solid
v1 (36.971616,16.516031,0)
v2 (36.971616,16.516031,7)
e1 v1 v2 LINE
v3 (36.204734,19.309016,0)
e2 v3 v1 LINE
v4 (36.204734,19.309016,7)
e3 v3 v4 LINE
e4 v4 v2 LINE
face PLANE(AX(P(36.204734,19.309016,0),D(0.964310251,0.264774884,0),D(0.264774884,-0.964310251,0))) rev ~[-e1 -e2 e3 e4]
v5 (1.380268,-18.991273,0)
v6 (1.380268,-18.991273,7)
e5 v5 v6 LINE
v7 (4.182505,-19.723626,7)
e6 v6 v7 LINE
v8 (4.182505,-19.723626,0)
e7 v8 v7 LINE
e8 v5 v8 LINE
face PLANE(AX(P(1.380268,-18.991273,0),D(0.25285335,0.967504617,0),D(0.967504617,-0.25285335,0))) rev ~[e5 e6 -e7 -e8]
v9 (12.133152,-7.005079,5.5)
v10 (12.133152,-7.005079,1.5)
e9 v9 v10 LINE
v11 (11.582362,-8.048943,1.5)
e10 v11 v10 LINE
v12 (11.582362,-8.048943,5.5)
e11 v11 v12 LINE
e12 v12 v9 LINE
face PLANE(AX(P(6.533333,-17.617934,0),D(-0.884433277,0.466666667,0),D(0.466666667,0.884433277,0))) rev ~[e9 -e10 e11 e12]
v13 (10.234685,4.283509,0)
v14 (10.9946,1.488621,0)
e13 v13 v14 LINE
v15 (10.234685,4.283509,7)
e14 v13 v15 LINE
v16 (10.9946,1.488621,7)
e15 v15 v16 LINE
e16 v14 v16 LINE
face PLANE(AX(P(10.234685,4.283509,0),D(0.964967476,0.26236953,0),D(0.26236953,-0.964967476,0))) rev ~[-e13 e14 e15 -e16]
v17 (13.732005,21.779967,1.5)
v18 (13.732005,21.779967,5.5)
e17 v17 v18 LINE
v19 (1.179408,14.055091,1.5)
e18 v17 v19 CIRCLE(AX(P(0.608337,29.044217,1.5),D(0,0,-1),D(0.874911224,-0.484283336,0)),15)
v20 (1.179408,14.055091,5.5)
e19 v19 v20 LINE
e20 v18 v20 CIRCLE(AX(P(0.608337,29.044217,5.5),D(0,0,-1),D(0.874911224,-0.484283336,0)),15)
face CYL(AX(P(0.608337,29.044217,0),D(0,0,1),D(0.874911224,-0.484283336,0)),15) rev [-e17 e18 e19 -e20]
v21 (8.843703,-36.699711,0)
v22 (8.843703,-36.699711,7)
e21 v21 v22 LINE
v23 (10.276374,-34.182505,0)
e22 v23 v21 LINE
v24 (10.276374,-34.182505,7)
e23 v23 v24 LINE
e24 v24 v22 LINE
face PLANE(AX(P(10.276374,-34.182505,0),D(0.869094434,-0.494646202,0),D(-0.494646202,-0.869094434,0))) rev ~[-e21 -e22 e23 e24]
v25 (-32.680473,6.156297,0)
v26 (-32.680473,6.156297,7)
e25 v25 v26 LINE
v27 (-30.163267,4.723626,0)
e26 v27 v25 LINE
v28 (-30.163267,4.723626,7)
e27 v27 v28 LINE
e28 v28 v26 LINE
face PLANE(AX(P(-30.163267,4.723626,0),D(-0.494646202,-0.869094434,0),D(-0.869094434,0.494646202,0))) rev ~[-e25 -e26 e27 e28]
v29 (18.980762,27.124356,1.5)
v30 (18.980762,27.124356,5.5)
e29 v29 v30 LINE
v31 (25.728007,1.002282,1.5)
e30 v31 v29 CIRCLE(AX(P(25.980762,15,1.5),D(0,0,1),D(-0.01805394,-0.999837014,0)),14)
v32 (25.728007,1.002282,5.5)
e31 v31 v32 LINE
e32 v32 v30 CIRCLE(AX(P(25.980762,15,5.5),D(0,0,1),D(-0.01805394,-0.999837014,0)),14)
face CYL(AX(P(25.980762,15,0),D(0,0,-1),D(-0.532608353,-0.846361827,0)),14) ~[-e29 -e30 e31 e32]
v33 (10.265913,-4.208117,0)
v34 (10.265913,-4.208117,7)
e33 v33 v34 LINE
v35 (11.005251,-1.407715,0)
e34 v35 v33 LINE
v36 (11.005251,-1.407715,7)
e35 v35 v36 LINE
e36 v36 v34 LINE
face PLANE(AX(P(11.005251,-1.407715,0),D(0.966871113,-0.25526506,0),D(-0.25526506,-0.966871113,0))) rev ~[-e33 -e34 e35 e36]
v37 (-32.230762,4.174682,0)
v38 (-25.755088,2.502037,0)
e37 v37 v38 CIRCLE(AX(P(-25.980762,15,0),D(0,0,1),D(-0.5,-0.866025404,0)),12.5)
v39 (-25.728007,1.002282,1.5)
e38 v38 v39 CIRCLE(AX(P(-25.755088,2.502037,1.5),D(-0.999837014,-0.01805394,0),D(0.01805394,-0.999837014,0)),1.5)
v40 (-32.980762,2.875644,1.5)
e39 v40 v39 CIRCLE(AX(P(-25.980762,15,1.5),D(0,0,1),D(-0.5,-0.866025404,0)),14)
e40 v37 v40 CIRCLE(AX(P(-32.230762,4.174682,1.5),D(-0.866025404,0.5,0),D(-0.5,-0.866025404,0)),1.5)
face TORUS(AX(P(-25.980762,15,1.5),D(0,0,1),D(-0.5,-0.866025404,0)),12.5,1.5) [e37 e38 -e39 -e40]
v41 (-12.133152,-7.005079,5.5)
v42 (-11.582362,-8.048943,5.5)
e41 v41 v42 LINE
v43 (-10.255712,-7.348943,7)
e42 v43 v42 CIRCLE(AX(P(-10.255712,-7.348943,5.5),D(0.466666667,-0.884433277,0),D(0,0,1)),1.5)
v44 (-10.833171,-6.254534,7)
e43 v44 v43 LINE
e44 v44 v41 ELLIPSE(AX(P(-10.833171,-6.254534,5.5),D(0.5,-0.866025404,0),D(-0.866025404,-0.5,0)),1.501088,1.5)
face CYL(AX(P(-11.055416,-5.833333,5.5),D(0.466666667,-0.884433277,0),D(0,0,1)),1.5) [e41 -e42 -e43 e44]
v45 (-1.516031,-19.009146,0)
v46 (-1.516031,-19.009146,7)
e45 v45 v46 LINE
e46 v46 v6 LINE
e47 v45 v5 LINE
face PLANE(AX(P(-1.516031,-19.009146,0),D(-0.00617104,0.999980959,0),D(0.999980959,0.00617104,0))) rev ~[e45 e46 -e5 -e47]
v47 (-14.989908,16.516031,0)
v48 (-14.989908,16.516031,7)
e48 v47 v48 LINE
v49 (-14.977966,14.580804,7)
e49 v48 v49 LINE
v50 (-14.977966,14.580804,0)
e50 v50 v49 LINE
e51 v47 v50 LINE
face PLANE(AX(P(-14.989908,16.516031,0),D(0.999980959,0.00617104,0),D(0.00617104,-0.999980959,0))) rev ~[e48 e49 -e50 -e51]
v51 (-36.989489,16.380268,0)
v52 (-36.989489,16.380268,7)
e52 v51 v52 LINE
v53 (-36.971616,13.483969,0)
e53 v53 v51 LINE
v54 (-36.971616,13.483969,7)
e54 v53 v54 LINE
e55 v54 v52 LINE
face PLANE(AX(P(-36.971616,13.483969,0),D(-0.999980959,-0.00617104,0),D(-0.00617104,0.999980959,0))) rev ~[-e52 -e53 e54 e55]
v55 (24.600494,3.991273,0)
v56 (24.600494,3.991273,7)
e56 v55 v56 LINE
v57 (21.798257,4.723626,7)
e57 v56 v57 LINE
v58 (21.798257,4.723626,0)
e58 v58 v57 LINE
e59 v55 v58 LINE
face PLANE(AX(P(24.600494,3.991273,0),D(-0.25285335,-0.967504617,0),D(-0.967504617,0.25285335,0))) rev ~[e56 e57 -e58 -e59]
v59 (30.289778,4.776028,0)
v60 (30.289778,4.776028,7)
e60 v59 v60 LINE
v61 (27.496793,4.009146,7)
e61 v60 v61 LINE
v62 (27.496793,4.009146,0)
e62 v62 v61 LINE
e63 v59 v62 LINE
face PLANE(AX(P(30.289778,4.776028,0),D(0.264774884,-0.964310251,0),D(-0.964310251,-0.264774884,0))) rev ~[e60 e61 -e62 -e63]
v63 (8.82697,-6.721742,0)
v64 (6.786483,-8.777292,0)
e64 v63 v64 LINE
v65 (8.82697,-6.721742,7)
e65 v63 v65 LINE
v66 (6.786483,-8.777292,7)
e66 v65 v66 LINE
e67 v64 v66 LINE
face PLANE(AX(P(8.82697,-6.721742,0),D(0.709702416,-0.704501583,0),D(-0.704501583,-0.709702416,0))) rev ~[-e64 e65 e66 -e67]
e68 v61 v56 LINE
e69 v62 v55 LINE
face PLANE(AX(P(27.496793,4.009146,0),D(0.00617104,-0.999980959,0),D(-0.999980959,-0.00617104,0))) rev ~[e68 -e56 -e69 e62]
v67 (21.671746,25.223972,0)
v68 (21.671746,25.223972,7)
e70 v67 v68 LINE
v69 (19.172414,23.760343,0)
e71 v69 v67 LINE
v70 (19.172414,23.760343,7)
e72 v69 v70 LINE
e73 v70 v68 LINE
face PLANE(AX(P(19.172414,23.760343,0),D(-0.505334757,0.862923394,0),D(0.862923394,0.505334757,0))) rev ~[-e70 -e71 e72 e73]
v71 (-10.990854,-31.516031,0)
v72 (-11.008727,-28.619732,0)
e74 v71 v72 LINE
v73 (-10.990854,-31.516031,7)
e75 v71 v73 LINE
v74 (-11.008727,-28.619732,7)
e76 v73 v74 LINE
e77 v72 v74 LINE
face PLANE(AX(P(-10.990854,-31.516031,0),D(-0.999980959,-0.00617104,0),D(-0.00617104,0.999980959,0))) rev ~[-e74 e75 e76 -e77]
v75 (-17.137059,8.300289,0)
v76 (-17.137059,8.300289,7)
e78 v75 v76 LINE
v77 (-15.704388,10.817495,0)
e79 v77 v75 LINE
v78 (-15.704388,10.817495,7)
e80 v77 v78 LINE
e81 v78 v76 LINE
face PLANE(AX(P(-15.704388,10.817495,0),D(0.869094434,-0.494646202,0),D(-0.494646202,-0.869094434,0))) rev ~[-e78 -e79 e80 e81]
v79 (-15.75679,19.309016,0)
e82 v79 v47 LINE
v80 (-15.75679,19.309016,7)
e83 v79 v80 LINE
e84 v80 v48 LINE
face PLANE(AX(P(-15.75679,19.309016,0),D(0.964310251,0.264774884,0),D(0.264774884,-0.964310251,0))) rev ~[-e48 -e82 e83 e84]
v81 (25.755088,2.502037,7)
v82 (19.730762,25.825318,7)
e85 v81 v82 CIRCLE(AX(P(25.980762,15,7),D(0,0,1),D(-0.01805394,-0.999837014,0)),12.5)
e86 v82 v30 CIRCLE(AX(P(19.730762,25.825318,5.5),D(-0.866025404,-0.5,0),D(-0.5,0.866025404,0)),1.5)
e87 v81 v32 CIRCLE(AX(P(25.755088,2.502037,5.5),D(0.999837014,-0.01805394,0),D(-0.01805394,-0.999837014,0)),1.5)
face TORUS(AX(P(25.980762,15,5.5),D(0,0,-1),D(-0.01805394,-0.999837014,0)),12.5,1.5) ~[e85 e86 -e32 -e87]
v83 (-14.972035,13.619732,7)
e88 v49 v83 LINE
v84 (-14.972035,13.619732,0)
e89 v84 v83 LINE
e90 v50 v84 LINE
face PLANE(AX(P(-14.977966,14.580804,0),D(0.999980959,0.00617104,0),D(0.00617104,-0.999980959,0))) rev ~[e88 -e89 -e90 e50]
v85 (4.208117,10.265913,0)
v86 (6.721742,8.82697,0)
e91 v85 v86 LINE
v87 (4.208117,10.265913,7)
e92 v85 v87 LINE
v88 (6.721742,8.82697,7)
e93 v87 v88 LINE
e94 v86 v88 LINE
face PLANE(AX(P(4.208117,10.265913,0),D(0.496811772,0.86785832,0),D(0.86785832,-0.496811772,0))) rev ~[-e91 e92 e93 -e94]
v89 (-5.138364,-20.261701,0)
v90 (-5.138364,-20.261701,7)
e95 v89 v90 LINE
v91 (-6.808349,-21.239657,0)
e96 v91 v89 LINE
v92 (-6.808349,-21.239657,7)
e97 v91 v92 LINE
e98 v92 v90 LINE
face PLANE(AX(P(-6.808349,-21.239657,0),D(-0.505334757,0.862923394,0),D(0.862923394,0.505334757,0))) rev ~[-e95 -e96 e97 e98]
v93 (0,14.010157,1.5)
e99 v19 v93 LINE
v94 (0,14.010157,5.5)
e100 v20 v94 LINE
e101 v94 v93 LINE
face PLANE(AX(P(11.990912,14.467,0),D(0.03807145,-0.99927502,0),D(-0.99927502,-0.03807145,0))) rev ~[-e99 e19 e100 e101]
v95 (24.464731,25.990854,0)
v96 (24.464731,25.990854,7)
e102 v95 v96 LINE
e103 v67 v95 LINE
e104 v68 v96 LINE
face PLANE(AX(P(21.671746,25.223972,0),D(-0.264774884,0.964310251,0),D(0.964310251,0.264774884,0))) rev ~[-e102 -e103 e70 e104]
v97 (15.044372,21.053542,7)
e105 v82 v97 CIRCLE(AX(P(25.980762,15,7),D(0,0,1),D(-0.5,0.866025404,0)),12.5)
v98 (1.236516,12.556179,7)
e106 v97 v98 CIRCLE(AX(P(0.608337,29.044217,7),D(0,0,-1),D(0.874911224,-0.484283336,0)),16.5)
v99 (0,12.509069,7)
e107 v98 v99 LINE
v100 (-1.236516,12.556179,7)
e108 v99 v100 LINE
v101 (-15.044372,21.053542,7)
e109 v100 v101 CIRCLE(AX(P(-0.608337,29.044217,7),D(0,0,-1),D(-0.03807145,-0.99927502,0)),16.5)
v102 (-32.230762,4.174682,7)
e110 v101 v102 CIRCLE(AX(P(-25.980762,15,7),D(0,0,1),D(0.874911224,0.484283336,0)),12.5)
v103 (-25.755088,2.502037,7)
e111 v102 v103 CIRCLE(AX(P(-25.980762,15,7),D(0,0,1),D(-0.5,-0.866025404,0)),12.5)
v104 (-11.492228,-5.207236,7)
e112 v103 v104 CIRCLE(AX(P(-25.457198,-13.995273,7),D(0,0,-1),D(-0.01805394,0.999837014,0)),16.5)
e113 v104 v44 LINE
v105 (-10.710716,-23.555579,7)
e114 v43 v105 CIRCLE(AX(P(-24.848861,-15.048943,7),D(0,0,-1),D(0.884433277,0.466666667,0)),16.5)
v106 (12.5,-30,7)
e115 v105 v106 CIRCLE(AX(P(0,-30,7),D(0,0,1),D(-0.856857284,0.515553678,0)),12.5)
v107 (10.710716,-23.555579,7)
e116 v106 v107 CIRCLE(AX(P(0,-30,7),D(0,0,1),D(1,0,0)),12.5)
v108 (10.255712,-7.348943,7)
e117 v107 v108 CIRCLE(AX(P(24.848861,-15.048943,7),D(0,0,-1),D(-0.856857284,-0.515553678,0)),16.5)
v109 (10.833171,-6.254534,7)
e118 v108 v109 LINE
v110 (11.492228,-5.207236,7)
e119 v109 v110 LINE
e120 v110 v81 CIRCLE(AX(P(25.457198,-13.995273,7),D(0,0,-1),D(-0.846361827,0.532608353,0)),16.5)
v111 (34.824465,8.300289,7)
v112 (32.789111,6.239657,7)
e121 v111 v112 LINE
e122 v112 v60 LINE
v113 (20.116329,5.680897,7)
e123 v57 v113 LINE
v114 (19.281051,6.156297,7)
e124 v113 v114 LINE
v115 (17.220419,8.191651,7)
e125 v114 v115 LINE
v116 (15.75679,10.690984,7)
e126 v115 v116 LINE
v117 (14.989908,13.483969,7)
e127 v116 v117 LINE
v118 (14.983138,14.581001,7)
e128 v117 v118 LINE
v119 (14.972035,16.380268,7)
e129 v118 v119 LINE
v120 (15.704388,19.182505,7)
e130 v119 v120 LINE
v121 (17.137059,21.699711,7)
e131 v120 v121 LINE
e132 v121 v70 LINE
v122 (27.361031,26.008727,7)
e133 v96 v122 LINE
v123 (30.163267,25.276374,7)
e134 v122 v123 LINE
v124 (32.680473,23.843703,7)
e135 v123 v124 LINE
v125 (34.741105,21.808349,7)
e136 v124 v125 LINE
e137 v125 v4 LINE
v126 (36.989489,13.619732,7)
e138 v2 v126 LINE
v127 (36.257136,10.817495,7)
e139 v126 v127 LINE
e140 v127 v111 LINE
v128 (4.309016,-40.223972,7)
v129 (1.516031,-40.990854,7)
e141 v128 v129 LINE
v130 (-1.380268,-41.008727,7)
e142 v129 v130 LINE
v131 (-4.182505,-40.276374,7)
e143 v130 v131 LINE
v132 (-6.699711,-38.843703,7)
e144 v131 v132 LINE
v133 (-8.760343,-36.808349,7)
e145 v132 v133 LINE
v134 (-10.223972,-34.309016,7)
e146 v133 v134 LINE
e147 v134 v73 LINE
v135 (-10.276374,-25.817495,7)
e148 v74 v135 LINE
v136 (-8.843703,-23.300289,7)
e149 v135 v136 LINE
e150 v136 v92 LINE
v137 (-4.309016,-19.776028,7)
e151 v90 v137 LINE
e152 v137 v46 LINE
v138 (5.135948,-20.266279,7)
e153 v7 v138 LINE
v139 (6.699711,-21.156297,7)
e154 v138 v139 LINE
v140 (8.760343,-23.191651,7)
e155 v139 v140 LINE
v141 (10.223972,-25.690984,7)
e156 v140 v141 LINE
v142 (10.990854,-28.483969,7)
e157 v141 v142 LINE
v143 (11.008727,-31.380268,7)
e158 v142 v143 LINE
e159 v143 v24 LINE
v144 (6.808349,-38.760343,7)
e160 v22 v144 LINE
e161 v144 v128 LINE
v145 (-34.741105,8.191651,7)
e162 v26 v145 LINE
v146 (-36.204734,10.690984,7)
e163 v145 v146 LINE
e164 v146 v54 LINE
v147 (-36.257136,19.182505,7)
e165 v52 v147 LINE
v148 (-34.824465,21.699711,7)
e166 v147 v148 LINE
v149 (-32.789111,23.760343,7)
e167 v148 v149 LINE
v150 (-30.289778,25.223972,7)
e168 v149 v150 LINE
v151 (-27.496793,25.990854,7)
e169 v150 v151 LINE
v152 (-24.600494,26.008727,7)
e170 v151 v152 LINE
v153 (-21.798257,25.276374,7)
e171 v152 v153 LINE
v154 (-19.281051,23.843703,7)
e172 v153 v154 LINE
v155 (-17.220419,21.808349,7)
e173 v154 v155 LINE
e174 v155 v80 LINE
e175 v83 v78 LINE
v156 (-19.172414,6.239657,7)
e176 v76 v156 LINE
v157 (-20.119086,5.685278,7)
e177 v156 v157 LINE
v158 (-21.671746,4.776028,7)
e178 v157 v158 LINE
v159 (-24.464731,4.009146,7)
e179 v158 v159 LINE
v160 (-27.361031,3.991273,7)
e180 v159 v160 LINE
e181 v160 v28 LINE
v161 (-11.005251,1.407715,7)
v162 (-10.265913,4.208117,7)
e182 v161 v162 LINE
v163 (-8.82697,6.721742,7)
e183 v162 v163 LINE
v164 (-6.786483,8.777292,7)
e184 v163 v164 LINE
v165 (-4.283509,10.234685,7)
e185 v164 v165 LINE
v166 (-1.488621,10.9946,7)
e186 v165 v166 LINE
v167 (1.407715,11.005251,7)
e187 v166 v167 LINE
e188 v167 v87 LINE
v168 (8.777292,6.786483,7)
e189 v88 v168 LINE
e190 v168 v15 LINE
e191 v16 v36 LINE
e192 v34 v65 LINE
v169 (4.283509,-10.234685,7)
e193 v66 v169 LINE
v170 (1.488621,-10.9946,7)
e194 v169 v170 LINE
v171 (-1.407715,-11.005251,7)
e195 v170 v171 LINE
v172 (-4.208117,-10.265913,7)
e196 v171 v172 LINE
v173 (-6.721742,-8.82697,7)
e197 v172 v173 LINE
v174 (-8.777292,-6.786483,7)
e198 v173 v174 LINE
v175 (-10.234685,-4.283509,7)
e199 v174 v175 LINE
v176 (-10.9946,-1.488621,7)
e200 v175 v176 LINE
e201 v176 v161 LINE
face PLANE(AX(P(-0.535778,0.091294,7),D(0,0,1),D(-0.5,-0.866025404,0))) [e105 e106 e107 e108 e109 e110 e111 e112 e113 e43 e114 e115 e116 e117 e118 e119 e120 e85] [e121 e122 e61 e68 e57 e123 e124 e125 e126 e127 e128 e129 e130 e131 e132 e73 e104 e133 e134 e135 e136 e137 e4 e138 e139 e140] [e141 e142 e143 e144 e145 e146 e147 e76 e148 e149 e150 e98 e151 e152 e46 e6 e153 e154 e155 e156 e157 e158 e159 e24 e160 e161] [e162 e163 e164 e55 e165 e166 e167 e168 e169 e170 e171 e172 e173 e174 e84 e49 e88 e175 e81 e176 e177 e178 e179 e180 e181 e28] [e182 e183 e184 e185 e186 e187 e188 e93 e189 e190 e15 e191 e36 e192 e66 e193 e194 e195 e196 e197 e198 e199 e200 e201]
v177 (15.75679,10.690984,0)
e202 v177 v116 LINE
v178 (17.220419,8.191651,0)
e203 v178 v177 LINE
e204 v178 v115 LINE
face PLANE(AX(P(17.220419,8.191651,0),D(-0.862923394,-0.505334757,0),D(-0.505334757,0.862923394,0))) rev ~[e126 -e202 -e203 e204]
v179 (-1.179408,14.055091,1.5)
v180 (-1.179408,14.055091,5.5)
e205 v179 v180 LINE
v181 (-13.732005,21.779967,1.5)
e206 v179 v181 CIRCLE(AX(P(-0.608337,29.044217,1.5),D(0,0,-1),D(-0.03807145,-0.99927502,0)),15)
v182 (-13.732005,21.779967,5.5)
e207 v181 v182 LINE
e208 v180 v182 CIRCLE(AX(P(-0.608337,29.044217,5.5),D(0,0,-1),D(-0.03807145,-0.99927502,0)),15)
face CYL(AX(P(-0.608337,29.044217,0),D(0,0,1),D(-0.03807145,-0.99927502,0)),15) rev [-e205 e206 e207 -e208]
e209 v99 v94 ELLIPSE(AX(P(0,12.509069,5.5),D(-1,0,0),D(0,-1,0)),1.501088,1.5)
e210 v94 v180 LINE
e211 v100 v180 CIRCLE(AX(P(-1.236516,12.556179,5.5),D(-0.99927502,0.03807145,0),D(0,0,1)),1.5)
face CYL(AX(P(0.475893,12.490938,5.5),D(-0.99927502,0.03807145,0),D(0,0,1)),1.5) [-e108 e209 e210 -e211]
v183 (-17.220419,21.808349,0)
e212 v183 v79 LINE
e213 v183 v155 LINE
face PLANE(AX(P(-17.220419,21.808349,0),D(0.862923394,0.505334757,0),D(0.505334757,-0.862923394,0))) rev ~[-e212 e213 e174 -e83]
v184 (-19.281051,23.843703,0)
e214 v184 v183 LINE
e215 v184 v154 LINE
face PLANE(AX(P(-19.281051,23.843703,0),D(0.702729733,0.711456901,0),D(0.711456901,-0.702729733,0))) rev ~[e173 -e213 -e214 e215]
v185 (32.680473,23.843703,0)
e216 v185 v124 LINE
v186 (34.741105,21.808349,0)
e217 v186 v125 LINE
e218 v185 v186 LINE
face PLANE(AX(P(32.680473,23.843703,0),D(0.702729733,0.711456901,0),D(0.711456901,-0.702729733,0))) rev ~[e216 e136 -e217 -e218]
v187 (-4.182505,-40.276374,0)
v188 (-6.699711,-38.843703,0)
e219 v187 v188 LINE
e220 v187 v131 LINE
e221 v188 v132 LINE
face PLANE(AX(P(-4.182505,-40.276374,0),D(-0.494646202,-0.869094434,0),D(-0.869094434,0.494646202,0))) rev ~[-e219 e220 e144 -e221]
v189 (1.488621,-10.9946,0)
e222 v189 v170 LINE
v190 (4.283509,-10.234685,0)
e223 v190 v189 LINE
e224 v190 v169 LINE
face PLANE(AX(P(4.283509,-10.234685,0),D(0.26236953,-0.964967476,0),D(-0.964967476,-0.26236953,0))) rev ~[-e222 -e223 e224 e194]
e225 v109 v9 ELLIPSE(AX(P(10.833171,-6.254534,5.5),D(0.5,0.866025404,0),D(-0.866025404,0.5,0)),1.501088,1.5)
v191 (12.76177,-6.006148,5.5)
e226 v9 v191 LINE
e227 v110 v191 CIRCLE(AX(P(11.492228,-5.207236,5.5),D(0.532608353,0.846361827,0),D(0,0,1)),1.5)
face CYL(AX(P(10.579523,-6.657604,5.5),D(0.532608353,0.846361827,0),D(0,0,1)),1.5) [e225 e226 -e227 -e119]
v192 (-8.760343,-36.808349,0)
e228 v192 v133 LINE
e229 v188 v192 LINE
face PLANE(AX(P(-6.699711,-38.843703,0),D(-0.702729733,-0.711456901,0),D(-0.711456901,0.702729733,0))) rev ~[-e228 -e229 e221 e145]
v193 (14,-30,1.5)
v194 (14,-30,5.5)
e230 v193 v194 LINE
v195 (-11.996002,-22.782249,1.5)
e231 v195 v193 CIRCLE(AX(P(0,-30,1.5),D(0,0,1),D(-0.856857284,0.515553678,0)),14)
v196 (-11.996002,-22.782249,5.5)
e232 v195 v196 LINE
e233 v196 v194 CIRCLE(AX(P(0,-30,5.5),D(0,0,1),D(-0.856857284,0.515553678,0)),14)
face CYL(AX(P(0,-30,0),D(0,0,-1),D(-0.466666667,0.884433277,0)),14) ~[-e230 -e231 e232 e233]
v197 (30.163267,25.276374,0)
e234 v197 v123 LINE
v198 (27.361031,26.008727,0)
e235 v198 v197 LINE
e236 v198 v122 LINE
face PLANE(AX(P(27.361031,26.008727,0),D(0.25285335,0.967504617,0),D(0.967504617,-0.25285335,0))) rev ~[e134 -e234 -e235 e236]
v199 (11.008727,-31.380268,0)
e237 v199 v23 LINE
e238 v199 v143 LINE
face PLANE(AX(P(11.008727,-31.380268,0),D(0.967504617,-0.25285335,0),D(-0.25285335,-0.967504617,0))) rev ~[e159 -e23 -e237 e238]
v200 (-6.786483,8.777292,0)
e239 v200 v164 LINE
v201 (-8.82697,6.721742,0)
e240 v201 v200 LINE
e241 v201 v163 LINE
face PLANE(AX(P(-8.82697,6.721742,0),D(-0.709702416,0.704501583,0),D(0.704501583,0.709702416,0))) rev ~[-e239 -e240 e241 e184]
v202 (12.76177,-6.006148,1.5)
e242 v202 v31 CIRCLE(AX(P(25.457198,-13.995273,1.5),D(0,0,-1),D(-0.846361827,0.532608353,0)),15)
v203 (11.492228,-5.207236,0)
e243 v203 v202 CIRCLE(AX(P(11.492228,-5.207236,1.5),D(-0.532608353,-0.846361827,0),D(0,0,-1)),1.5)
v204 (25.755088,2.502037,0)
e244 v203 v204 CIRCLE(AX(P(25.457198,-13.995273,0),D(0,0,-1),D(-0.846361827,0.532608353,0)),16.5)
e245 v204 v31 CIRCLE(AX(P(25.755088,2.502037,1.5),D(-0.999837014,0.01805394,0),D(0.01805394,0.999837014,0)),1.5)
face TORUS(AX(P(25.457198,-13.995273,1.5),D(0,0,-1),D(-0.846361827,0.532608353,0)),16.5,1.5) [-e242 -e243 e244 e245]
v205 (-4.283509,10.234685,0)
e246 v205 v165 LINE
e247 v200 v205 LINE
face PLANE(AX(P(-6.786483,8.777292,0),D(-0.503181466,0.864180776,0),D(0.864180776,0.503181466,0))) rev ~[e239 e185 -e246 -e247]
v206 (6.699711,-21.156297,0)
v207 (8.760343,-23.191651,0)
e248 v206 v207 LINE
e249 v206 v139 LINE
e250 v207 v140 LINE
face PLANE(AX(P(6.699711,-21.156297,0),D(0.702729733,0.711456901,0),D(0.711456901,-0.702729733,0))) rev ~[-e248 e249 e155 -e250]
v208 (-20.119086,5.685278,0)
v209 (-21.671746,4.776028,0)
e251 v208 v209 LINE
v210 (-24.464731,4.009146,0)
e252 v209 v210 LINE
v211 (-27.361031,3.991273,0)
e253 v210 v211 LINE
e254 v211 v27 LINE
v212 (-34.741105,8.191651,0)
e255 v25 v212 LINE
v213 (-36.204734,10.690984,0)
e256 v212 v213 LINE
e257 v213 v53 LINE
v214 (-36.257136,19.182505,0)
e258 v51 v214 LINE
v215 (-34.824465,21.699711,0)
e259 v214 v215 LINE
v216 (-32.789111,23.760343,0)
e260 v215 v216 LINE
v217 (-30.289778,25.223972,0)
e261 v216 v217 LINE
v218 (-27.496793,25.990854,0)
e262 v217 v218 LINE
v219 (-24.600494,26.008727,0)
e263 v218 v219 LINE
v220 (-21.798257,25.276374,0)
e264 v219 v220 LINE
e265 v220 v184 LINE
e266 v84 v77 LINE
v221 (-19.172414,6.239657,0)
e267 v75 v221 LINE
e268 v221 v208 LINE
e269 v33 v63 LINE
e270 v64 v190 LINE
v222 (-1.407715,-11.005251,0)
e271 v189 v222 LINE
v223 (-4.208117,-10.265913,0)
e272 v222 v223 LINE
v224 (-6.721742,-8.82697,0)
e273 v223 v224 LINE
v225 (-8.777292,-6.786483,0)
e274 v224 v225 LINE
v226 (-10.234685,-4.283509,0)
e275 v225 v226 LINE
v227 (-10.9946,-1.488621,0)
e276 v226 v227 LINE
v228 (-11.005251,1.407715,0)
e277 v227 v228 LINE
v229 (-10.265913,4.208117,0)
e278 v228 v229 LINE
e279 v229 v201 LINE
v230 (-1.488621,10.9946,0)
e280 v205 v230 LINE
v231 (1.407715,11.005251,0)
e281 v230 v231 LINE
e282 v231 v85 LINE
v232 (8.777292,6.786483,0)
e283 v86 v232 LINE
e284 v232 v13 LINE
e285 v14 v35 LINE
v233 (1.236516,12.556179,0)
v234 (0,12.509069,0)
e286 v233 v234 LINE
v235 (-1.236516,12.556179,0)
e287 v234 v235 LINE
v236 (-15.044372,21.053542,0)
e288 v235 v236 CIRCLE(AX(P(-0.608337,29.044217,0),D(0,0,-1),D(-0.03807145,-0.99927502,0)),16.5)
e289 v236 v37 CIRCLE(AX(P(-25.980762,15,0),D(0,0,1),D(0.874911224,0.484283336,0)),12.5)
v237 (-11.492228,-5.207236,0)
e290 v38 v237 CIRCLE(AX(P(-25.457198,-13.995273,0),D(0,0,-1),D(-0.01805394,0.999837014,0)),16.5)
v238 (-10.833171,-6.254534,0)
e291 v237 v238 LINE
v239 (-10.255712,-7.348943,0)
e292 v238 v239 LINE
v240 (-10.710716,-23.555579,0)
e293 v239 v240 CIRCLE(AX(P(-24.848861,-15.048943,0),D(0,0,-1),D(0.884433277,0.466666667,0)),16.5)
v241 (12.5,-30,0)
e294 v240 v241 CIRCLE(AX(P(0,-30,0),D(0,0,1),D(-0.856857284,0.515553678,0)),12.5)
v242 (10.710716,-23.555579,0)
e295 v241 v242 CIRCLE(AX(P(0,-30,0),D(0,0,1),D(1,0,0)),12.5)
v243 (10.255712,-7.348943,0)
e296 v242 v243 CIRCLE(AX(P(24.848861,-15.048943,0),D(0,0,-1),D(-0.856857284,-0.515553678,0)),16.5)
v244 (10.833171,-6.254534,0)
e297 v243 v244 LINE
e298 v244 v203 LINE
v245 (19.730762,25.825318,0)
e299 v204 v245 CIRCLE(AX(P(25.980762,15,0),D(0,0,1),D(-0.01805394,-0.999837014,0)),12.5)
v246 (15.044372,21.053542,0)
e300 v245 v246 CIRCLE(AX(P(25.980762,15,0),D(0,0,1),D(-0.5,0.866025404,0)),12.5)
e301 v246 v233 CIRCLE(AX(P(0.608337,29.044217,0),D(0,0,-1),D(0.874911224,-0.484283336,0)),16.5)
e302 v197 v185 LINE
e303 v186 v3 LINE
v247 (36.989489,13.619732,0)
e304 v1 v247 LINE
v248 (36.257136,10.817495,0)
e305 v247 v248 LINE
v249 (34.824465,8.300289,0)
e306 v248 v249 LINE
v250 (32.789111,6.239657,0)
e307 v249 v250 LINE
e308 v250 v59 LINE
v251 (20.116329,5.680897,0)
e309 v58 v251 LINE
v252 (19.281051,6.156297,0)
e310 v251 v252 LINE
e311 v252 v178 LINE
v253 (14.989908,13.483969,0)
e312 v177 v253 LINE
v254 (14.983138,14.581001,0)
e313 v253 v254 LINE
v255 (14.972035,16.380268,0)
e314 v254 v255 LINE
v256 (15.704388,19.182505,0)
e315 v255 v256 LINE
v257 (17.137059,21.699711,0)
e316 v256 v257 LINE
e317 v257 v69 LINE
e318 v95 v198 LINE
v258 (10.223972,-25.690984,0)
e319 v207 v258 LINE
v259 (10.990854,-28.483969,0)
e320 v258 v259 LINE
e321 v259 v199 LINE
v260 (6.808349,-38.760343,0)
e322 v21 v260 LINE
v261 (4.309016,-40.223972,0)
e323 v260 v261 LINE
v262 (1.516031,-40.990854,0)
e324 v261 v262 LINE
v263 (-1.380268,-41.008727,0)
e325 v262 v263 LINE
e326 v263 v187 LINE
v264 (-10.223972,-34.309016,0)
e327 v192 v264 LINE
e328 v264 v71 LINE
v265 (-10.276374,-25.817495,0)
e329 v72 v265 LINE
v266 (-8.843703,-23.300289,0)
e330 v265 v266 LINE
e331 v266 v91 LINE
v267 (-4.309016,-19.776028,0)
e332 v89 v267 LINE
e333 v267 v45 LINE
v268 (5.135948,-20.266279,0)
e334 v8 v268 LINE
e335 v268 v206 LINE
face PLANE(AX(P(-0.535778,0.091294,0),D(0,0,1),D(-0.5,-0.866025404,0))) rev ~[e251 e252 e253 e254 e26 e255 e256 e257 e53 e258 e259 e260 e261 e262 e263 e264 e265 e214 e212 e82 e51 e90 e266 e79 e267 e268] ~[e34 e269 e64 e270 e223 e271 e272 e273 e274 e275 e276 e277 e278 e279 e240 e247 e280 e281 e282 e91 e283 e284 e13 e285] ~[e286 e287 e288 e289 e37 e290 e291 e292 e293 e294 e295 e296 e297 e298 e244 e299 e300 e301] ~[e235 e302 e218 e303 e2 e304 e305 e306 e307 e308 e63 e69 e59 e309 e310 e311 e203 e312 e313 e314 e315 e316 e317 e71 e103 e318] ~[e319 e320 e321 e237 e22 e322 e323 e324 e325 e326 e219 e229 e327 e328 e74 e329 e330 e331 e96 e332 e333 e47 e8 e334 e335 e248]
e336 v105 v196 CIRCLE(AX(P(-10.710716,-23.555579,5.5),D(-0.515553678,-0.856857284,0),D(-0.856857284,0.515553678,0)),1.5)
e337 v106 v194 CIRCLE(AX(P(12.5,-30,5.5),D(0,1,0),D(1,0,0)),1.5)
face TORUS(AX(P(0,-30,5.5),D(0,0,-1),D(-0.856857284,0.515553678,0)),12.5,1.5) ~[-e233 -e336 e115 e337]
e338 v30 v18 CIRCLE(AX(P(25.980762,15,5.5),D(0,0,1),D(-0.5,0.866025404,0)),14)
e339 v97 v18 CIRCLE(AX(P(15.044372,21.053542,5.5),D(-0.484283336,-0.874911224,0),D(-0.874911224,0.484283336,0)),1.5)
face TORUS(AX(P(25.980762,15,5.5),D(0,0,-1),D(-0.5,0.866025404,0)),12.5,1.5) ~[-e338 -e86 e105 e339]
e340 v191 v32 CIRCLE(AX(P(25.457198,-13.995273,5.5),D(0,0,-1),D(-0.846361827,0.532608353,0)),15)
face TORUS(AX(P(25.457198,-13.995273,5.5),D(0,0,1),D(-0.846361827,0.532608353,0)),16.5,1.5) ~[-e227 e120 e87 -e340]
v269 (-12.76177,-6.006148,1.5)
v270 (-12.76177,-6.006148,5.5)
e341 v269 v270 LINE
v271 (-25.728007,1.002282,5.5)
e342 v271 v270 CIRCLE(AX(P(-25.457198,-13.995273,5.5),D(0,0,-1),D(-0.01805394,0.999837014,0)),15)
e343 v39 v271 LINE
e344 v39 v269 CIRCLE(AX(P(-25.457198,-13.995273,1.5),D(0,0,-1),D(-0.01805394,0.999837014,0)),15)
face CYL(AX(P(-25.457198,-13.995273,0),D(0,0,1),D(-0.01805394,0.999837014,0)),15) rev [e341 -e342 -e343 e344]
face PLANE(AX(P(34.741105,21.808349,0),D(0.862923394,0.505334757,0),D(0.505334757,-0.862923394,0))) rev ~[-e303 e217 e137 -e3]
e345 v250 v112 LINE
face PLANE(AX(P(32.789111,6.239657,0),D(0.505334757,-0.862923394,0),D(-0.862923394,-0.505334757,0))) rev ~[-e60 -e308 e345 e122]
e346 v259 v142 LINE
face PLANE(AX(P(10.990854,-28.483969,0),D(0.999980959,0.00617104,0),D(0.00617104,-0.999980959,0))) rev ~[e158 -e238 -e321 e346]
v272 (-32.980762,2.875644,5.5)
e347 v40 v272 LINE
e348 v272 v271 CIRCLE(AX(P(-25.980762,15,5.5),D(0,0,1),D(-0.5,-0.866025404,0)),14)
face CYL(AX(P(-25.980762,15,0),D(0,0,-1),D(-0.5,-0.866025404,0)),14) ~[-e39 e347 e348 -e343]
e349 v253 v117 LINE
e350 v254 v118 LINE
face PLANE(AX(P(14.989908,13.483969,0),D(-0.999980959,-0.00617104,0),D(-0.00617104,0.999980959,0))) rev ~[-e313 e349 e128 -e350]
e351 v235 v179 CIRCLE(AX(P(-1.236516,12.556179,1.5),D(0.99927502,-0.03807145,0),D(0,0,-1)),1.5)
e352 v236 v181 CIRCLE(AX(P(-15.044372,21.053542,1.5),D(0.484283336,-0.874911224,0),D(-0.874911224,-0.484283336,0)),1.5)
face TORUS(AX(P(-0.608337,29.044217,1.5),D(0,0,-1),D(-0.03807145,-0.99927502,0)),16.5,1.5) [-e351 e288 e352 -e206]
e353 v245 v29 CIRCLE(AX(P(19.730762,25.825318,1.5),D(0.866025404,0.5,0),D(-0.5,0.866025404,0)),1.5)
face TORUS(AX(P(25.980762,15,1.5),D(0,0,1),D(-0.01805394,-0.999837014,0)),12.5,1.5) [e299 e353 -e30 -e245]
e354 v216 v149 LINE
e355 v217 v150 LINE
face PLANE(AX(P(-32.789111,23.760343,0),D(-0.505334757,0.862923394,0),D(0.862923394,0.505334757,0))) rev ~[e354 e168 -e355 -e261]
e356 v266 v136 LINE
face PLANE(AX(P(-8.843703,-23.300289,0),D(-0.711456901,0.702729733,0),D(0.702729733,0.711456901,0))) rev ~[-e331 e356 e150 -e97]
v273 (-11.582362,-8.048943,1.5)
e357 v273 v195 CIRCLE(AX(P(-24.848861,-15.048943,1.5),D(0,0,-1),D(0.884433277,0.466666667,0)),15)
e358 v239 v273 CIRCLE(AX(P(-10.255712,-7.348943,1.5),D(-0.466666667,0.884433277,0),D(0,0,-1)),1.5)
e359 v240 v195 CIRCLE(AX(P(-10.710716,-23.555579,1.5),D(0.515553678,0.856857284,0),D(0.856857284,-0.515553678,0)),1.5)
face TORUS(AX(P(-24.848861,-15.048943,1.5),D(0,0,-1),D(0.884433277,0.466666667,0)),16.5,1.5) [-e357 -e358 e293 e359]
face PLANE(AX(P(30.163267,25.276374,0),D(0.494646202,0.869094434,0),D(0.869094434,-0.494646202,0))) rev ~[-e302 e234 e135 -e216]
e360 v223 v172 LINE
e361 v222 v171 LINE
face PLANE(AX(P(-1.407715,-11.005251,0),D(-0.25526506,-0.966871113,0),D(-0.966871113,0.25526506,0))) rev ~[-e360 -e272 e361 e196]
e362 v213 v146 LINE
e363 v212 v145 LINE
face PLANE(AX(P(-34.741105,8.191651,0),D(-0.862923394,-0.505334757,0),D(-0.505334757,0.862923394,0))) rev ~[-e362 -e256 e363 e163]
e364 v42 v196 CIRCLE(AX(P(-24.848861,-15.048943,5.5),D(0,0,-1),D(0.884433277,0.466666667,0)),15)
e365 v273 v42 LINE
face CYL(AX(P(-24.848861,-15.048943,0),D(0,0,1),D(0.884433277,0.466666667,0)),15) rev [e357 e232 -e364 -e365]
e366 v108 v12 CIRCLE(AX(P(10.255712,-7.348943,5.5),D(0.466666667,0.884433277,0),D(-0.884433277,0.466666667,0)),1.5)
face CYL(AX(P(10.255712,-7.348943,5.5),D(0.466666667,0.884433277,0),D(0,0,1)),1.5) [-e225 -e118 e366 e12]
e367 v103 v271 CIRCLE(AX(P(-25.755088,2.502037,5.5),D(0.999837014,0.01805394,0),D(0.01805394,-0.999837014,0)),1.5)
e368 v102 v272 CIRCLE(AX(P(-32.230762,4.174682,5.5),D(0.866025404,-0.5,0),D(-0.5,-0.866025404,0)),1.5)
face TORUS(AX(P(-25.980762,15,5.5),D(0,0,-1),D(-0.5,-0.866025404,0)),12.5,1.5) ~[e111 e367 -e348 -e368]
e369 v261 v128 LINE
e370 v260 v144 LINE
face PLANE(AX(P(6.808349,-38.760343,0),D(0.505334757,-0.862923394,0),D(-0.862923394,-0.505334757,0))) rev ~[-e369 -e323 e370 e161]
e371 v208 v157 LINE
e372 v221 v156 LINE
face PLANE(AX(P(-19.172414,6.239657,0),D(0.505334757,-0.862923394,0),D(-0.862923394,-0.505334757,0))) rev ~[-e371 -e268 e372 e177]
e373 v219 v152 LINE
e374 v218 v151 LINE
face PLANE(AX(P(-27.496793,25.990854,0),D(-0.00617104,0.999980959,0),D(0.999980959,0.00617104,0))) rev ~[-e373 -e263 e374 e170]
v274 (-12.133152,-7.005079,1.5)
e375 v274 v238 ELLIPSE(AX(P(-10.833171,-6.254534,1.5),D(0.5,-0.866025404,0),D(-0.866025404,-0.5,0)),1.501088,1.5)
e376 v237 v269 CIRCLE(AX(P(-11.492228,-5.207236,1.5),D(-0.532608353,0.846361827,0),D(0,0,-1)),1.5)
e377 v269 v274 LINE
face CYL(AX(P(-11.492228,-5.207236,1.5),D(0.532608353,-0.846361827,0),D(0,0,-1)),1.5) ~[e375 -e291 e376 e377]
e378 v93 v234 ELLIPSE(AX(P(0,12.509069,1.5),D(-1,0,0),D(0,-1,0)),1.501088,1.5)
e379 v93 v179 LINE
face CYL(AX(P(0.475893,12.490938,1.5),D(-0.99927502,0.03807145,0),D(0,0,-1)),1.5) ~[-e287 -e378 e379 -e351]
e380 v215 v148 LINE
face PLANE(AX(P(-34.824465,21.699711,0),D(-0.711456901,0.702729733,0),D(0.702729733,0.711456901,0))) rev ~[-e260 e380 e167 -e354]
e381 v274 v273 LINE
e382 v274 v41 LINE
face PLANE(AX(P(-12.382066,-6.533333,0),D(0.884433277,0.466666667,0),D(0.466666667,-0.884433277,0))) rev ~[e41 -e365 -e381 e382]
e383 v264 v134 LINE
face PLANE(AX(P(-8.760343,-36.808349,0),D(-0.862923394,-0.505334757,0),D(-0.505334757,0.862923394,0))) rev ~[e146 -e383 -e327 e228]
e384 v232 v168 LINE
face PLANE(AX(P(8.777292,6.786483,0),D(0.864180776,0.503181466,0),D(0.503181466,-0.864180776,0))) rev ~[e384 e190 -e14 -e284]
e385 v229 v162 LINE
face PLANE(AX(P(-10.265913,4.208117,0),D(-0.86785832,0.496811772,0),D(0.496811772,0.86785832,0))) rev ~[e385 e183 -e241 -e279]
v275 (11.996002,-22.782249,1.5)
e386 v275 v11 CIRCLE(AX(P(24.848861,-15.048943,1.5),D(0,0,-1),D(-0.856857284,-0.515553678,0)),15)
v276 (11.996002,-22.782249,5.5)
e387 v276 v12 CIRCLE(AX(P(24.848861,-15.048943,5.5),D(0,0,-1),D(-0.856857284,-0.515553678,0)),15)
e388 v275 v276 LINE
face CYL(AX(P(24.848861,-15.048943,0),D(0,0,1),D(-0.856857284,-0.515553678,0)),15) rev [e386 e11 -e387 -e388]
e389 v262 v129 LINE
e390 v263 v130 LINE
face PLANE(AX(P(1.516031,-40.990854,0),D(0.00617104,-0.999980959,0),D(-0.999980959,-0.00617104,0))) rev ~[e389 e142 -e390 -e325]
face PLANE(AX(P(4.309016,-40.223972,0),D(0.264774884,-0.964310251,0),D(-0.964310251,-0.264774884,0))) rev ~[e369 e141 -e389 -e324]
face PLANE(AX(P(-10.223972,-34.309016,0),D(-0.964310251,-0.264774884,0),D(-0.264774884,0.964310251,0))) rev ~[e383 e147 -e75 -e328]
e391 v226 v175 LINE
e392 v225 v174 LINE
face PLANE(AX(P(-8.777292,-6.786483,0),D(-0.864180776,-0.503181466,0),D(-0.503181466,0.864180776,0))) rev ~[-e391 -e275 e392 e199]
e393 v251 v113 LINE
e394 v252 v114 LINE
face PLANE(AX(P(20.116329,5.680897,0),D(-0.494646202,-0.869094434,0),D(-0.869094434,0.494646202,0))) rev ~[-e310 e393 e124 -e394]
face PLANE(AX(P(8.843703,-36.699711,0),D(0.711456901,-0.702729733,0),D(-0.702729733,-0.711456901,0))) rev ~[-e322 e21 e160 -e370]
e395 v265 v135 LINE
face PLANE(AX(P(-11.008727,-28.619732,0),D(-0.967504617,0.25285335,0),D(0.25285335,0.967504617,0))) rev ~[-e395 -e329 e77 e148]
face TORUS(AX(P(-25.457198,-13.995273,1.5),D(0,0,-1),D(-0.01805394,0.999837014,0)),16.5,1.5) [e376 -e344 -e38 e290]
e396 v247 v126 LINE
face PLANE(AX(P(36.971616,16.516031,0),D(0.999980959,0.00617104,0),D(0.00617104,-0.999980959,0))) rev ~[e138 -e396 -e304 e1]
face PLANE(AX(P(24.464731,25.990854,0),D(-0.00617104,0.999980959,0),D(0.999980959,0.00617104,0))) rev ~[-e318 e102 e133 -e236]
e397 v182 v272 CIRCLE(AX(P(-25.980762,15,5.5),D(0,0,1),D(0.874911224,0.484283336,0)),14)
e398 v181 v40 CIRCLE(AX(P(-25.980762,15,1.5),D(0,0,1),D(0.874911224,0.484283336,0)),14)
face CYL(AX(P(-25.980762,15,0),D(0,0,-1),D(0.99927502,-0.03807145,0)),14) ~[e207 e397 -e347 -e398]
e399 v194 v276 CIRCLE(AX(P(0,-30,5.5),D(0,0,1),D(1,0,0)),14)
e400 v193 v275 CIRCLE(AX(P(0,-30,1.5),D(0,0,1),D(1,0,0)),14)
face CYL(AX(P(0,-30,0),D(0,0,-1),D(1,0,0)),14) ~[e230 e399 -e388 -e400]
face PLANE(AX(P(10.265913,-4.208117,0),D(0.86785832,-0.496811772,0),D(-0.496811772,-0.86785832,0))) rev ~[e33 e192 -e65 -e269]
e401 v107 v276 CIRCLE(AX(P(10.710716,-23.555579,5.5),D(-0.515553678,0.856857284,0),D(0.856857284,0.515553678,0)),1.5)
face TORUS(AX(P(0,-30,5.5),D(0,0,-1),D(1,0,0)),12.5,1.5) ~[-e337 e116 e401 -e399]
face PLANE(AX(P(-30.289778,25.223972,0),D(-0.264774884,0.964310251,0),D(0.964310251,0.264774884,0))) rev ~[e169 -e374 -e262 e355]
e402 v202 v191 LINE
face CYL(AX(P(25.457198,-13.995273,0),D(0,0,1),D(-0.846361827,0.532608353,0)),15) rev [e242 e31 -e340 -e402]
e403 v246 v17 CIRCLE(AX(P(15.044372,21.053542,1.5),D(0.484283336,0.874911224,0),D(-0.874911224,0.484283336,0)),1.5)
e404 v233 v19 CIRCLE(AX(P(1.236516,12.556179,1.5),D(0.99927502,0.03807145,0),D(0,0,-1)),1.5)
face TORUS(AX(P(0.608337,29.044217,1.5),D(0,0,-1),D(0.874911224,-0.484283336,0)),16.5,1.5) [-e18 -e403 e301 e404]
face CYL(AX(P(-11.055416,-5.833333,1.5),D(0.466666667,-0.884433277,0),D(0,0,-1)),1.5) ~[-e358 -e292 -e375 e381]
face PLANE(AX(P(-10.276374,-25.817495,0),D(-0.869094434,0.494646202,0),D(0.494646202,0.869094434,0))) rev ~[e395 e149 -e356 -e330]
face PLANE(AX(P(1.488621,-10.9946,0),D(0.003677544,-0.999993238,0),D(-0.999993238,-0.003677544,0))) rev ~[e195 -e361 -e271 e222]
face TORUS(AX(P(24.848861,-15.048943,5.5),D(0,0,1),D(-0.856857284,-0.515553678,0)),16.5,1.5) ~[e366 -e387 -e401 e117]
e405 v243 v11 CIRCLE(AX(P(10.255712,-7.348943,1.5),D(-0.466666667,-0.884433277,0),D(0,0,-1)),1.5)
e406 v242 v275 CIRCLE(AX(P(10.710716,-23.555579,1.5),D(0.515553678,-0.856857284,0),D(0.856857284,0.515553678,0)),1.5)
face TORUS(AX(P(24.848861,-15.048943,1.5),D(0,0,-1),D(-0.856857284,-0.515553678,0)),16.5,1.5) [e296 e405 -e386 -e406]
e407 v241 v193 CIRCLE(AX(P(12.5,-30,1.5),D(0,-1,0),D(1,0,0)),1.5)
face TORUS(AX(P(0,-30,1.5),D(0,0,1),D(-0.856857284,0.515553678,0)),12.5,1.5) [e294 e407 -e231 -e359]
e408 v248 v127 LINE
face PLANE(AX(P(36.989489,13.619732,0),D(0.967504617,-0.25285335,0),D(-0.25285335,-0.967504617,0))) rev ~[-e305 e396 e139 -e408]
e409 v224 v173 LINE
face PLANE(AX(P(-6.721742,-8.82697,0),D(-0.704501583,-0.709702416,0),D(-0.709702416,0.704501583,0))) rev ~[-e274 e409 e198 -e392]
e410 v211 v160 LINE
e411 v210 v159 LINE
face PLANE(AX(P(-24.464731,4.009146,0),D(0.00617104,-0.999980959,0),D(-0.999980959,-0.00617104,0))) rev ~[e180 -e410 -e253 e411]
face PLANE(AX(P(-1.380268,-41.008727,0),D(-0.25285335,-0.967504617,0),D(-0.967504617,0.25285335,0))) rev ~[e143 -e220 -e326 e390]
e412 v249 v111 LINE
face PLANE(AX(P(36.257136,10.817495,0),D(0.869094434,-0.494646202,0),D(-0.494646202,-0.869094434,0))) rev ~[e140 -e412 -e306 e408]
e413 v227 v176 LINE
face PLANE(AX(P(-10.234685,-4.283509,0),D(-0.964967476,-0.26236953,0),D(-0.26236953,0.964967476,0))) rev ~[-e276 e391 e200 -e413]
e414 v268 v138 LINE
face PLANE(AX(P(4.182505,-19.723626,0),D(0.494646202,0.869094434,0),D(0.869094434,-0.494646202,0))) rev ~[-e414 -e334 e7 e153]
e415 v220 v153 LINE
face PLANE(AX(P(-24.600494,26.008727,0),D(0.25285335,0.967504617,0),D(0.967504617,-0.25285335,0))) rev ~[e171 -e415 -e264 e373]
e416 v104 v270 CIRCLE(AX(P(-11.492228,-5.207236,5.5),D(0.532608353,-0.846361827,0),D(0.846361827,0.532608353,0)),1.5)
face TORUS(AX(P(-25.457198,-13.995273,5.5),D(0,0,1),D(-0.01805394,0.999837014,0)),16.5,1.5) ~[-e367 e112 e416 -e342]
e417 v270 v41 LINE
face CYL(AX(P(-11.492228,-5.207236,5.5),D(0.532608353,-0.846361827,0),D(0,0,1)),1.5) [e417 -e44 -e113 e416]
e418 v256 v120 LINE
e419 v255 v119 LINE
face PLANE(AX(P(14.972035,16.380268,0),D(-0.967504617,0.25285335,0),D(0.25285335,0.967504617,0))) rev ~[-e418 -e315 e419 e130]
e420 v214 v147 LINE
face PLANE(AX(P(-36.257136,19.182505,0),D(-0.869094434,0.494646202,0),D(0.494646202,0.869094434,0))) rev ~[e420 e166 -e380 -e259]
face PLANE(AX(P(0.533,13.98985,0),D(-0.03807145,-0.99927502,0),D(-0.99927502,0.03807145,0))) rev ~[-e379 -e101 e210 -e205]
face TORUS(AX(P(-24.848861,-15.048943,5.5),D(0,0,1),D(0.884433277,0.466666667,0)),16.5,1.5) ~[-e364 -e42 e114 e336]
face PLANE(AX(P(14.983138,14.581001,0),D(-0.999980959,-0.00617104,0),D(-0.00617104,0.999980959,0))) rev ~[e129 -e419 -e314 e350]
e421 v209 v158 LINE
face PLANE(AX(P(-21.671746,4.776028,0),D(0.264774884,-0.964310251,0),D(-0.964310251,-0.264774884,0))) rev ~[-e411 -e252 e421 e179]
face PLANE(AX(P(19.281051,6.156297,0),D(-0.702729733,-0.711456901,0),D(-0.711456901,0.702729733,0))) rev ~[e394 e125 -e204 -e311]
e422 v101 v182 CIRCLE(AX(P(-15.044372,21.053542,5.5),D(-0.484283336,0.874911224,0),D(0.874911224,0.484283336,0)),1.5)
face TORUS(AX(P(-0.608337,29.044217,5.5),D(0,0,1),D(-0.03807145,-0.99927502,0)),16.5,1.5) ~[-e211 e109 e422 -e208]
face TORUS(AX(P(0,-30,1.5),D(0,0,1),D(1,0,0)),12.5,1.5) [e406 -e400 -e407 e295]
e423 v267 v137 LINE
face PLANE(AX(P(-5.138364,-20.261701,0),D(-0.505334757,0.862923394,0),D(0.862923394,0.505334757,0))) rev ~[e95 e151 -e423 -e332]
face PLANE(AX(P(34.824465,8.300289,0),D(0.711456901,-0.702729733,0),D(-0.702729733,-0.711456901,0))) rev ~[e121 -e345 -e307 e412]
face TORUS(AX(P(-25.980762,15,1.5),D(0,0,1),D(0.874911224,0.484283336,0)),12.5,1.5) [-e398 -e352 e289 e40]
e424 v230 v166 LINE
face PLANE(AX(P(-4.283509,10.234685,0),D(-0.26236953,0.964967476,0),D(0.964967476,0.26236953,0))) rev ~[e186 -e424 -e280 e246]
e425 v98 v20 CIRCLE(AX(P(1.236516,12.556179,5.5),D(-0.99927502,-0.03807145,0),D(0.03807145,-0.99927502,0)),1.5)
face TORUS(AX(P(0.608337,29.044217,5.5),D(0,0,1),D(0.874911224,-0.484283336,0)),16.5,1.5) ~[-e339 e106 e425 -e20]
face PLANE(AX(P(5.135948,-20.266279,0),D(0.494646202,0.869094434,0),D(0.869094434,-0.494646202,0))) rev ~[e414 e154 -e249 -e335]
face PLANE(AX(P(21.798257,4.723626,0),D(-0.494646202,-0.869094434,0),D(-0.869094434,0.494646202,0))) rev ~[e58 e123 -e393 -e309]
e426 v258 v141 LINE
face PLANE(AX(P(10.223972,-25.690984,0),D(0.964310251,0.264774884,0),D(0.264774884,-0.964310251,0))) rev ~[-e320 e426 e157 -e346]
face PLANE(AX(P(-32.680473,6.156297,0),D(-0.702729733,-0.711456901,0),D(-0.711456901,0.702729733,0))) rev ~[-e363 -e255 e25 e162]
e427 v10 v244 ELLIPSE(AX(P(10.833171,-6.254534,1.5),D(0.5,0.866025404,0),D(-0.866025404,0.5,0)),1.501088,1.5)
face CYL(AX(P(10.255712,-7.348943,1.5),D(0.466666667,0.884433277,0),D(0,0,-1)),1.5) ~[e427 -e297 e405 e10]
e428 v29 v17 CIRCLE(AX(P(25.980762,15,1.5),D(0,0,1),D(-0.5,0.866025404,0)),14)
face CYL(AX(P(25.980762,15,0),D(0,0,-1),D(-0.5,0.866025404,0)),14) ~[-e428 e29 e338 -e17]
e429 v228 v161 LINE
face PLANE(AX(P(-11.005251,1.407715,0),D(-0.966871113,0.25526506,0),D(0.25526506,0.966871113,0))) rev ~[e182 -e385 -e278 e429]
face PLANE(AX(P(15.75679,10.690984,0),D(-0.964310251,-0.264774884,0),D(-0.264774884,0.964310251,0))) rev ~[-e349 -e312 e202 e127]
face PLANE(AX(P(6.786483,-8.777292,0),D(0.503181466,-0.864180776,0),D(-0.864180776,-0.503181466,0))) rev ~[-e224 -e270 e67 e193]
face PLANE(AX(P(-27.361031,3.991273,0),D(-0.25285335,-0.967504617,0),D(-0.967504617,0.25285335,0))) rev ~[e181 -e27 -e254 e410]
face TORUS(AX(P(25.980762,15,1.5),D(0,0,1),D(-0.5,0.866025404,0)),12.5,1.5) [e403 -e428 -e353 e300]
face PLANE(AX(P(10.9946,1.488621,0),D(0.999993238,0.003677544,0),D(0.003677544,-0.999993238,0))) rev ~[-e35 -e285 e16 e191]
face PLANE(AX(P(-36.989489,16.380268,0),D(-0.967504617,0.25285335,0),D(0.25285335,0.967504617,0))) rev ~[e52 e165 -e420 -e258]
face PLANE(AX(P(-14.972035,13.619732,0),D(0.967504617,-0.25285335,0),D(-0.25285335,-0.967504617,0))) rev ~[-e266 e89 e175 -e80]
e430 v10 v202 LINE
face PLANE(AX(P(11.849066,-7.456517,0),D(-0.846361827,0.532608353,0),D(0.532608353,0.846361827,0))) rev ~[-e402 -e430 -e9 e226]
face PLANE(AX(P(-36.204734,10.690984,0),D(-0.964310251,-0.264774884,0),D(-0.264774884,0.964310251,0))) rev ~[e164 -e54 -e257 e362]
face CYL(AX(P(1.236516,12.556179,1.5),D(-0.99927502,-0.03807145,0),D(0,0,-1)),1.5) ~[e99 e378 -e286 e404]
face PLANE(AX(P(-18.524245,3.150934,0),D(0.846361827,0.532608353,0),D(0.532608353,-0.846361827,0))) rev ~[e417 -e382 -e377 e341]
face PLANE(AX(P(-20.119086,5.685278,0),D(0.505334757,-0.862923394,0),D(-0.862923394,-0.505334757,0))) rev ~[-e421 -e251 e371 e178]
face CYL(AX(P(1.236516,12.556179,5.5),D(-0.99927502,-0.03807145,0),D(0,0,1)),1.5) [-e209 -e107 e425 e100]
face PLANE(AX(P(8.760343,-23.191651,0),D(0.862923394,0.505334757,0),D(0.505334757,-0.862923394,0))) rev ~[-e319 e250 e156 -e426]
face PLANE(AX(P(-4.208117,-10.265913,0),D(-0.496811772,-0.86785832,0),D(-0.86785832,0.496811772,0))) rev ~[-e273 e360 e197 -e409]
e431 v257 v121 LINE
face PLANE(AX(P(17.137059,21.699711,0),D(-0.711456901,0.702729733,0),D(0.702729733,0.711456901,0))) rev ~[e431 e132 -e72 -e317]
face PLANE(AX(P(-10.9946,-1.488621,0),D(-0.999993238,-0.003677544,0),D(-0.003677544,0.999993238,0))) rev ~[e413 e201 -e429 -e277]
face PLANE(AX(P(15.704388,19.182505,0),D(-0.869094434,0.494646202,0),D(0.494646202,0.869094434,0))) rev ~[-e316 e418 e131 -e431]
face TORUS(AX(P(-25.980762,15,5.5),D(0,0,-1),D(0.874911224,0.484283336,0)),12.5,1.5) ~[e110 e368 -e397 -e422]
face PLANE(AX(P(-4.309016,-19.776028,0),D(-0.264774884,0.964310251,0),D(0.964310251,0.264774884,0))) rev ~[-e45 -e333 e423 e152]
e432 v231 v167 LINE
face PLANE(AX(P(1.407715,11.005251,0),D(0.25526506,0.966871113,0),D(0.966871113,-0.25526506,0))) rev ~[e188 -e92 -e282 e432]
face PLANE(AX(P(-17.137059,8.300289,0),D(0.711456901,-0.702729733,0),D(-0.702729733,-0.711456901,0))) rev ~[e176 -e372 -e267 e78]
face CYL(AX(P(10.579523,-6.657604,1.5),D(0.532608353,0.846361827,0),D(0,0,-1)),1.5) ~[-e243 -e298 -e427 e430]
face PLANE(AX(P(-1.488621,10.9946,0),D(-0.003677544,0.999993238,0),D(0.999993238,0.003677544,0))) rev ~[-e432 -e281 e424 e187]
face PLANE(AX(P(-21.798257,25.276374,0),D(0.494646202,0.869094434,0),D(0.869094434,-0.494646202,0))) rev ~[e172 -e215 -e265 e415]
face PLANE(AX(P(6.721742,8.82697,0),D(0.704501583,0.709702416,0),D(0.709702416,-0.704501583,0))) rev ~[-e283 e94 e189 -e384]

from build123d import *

# Parameters (mm, degrees)
F2_DEPTH = 7
F3_R     = 15
F4_R     = 1.5
F5_COUNT = 3


with BuildPart() as f2:
    # F1 (on Top) → F2 (new body)
    with BuildSketch(Plane.XY):
        with BuildLine():
            ThreePointArc((12.382065884, -6.5333333333), (13.5894981949, -3.3653437881), (14, 0))
            ThreePointArc((14, 0), (-3.3653437881, 13.5894981949), (-12.382065884, -6.5333333333))
            ThreePointArc((-12.382065884, -6.5333333333), (0, -14), (12.382065884, -6.5333333333))
        make_face()
        Polygon((11.0052513525, -1.4077146954), (10.2659131329, -4.2081166265), (8.8269698986, -6.7217423638), (6.7864832529, -8.7772924671), (4.2835089887, -10.234684594), (1.4886206658, -10.9945998794), (-1.4077146954, -11.0052513525), (-4.2081166265, -10.2659131329), (-6.7217423638, -8.8269698986), (-8.7772924671, -6.7864832529), (-10.234684594, -4.2835089887), (-10.9945998794, -1.4886206658), (-11.0052513525, 1.4077146954), (-10.2659131329, 4.2081166265), (-8.8269698986, 6.7217423638), (-6.7864832529, 8.7772924671), (-4.2835089887, 10.234684594), (-1.4886206658, 10.9945998794), (1.4077146954, 11.0052513525), (4.2081166265, 10.2659131329), (6.7217423638, 8.8269698986), (8.7772924671, 6.7864832529), (10.234684594, 4.2835089887), (10.9945998794, 1.4886206658), align=None, mode=Mode.SUBTRACT)
        with BuildLine():
            ThreePointArc((12.382065884, -6.5333333333), (0, -14), (-12.382065884, -6.5333333333))
            Line((-12.382065884, -6.5333333333), (-6.5333333333, -17.617934116))
            ThreePointArc((-6.5333333333, -17.617934116), (0, -16), (6.5333333333, -17.617934116))
            Line((6.5333333333, -17.617934116), (12.382065884, -6.5333333333))
        make_face()
        with BuildLine():
            Line((-5.1383635248, -20.2617006582), (-6.5333333333, -17.617934116))
            ThreePointArc((-6.5333333333, -17.617934116), (-7.2295689129, -41.9888837401), (14, -30))
            ThreePointArc((14, -30), (11.9888837401, -22.7704310871), (6.5333333333, -17.617934116))
            Line((6.5333333333, -17.617934116), (5.1359478763, -20.2662788295))
            Line((5.1359478763, -20.2662788295), (6.6997112048, -21.1562967165))
            Line((6.6997112048, -21.1562967165), (8.7603429204, -23.1916514549))
            Line((8.7603429204, -23.1916514549), (10.2239717431, -25.6909838953))
            Line((10.2239717431, -25.6909838953), (10.9908537875, -28.4839686623))
            Line((10.9908537875, -28.4839686623), (11.0087273095, -31.3802684596))
            Line((11.0087273095, -31.3802684596), (10.2763742581, -34.1825052424))
            Line((10.2763742581, -34.1825052424), (8.8437032835, -36.6997112048))
            Line((8.8437032835, -36.6997112048), (6.8083485451, -38.7603429204))
            Line((6.8083485451, -38.7603429204), (4.3090161047, -40.2239717431))
            Line((4.3090161047, -40.2239717431), (1.5160313377, -40.9908537875))
            Line((1.5160313377, -40.9908537875), (-1.3802684596, -41.0087273095))
            Line((-1.3802684596, -41.0087273095), (-4.1825052424, -40.2763742581))
            Line((-4.1825052424, -40.2763742581), (-6.6997112048, -38.8437032835))
            Line((-6.6997112048, -38.8437032835), (-8.7603429204, -36.8083485451))
            Line((-8.7603429204, -36.8083485451), (-10.2239717431, -34.3090161047))
            Line((-10.2239717431, -34.3090161047), (-10.9908537875, -31.5160313377))
            Line((-10.9908537875, -31.5160313377), (-11.0087273095, -28.6197315404))
            Line((-11.0087273095, -28.6197315404), (-10.2763742581, -25.8174947576))
            Line((-10.2763742581, -25.8174947576), (-8.8437032835, -23.3002887952))
            Line((-8.8437032835, -23.3002887952), (-6.8083485451, -21.2396570796))
            Line((-6.8083485451, -21.2396570796), (-5.1383635248, -20.2617006582))
        make_face()
        with BuildLine():
            ThreePointArc((6.5333333333, -17.617934116), (0, -16), (-6.5333333333, -17.617934116))
            Line((-6.5333333333, -17.617934116), (-5.1383635248, -20.2617006582))
            Line((-5.1383635248, -20.2617006582), (-4.3090161047, -19.7760282569))
            Line((-4.3090161047, -19.7760282569), (-1.5160313377, -19.0091462125))
            Line((-1.5160313377, -19.0091462125), (1.3802684596, -18.9912726905))
            Line((1.3802684596, -18.9912726905), (4.1825052424, -19.7236257419))
            Line((4.1825052424, -19.7236257419), (5.1359478763, -20.2662788295))
            Line((5.1359478763, -20.2662788295), (6.5333333333, -17.617934116))
        make_face()
    extrude(amount=F2_DEPTH)

    # F3
    f3_edges = [f2.edges().sort_by_distance(p)[0] for p in [
        (6.533333, -17.617934, 3.5),
        (-6.533333, -17.617934, 3.5),
    ]]
    fillet(f3_edges, radius=F3_R)

    # F4
    f4_edges = [f2.edges().sort_by_distance(p)[0] for p in [
        (0, -44, 7),
        (11.982214, -7.291138, 7),
        (11.982214, -7.291138, 0),
        (0, -44, 0),
    ]]
    fillet(f4_edges, radius=F4_R)

    # F5: F2 ×3 about axis
    f5_axis = Axis((0, 0, 3.420983674), (0, 0, 1))


with BuildPart() as f2_1:
    add(f2.part)
    for i in range(1, F5_COUNT):
        add(f2.part.rotate(f5_axis, i * 360 / F5_COUNT))


solid = f2_1.part
